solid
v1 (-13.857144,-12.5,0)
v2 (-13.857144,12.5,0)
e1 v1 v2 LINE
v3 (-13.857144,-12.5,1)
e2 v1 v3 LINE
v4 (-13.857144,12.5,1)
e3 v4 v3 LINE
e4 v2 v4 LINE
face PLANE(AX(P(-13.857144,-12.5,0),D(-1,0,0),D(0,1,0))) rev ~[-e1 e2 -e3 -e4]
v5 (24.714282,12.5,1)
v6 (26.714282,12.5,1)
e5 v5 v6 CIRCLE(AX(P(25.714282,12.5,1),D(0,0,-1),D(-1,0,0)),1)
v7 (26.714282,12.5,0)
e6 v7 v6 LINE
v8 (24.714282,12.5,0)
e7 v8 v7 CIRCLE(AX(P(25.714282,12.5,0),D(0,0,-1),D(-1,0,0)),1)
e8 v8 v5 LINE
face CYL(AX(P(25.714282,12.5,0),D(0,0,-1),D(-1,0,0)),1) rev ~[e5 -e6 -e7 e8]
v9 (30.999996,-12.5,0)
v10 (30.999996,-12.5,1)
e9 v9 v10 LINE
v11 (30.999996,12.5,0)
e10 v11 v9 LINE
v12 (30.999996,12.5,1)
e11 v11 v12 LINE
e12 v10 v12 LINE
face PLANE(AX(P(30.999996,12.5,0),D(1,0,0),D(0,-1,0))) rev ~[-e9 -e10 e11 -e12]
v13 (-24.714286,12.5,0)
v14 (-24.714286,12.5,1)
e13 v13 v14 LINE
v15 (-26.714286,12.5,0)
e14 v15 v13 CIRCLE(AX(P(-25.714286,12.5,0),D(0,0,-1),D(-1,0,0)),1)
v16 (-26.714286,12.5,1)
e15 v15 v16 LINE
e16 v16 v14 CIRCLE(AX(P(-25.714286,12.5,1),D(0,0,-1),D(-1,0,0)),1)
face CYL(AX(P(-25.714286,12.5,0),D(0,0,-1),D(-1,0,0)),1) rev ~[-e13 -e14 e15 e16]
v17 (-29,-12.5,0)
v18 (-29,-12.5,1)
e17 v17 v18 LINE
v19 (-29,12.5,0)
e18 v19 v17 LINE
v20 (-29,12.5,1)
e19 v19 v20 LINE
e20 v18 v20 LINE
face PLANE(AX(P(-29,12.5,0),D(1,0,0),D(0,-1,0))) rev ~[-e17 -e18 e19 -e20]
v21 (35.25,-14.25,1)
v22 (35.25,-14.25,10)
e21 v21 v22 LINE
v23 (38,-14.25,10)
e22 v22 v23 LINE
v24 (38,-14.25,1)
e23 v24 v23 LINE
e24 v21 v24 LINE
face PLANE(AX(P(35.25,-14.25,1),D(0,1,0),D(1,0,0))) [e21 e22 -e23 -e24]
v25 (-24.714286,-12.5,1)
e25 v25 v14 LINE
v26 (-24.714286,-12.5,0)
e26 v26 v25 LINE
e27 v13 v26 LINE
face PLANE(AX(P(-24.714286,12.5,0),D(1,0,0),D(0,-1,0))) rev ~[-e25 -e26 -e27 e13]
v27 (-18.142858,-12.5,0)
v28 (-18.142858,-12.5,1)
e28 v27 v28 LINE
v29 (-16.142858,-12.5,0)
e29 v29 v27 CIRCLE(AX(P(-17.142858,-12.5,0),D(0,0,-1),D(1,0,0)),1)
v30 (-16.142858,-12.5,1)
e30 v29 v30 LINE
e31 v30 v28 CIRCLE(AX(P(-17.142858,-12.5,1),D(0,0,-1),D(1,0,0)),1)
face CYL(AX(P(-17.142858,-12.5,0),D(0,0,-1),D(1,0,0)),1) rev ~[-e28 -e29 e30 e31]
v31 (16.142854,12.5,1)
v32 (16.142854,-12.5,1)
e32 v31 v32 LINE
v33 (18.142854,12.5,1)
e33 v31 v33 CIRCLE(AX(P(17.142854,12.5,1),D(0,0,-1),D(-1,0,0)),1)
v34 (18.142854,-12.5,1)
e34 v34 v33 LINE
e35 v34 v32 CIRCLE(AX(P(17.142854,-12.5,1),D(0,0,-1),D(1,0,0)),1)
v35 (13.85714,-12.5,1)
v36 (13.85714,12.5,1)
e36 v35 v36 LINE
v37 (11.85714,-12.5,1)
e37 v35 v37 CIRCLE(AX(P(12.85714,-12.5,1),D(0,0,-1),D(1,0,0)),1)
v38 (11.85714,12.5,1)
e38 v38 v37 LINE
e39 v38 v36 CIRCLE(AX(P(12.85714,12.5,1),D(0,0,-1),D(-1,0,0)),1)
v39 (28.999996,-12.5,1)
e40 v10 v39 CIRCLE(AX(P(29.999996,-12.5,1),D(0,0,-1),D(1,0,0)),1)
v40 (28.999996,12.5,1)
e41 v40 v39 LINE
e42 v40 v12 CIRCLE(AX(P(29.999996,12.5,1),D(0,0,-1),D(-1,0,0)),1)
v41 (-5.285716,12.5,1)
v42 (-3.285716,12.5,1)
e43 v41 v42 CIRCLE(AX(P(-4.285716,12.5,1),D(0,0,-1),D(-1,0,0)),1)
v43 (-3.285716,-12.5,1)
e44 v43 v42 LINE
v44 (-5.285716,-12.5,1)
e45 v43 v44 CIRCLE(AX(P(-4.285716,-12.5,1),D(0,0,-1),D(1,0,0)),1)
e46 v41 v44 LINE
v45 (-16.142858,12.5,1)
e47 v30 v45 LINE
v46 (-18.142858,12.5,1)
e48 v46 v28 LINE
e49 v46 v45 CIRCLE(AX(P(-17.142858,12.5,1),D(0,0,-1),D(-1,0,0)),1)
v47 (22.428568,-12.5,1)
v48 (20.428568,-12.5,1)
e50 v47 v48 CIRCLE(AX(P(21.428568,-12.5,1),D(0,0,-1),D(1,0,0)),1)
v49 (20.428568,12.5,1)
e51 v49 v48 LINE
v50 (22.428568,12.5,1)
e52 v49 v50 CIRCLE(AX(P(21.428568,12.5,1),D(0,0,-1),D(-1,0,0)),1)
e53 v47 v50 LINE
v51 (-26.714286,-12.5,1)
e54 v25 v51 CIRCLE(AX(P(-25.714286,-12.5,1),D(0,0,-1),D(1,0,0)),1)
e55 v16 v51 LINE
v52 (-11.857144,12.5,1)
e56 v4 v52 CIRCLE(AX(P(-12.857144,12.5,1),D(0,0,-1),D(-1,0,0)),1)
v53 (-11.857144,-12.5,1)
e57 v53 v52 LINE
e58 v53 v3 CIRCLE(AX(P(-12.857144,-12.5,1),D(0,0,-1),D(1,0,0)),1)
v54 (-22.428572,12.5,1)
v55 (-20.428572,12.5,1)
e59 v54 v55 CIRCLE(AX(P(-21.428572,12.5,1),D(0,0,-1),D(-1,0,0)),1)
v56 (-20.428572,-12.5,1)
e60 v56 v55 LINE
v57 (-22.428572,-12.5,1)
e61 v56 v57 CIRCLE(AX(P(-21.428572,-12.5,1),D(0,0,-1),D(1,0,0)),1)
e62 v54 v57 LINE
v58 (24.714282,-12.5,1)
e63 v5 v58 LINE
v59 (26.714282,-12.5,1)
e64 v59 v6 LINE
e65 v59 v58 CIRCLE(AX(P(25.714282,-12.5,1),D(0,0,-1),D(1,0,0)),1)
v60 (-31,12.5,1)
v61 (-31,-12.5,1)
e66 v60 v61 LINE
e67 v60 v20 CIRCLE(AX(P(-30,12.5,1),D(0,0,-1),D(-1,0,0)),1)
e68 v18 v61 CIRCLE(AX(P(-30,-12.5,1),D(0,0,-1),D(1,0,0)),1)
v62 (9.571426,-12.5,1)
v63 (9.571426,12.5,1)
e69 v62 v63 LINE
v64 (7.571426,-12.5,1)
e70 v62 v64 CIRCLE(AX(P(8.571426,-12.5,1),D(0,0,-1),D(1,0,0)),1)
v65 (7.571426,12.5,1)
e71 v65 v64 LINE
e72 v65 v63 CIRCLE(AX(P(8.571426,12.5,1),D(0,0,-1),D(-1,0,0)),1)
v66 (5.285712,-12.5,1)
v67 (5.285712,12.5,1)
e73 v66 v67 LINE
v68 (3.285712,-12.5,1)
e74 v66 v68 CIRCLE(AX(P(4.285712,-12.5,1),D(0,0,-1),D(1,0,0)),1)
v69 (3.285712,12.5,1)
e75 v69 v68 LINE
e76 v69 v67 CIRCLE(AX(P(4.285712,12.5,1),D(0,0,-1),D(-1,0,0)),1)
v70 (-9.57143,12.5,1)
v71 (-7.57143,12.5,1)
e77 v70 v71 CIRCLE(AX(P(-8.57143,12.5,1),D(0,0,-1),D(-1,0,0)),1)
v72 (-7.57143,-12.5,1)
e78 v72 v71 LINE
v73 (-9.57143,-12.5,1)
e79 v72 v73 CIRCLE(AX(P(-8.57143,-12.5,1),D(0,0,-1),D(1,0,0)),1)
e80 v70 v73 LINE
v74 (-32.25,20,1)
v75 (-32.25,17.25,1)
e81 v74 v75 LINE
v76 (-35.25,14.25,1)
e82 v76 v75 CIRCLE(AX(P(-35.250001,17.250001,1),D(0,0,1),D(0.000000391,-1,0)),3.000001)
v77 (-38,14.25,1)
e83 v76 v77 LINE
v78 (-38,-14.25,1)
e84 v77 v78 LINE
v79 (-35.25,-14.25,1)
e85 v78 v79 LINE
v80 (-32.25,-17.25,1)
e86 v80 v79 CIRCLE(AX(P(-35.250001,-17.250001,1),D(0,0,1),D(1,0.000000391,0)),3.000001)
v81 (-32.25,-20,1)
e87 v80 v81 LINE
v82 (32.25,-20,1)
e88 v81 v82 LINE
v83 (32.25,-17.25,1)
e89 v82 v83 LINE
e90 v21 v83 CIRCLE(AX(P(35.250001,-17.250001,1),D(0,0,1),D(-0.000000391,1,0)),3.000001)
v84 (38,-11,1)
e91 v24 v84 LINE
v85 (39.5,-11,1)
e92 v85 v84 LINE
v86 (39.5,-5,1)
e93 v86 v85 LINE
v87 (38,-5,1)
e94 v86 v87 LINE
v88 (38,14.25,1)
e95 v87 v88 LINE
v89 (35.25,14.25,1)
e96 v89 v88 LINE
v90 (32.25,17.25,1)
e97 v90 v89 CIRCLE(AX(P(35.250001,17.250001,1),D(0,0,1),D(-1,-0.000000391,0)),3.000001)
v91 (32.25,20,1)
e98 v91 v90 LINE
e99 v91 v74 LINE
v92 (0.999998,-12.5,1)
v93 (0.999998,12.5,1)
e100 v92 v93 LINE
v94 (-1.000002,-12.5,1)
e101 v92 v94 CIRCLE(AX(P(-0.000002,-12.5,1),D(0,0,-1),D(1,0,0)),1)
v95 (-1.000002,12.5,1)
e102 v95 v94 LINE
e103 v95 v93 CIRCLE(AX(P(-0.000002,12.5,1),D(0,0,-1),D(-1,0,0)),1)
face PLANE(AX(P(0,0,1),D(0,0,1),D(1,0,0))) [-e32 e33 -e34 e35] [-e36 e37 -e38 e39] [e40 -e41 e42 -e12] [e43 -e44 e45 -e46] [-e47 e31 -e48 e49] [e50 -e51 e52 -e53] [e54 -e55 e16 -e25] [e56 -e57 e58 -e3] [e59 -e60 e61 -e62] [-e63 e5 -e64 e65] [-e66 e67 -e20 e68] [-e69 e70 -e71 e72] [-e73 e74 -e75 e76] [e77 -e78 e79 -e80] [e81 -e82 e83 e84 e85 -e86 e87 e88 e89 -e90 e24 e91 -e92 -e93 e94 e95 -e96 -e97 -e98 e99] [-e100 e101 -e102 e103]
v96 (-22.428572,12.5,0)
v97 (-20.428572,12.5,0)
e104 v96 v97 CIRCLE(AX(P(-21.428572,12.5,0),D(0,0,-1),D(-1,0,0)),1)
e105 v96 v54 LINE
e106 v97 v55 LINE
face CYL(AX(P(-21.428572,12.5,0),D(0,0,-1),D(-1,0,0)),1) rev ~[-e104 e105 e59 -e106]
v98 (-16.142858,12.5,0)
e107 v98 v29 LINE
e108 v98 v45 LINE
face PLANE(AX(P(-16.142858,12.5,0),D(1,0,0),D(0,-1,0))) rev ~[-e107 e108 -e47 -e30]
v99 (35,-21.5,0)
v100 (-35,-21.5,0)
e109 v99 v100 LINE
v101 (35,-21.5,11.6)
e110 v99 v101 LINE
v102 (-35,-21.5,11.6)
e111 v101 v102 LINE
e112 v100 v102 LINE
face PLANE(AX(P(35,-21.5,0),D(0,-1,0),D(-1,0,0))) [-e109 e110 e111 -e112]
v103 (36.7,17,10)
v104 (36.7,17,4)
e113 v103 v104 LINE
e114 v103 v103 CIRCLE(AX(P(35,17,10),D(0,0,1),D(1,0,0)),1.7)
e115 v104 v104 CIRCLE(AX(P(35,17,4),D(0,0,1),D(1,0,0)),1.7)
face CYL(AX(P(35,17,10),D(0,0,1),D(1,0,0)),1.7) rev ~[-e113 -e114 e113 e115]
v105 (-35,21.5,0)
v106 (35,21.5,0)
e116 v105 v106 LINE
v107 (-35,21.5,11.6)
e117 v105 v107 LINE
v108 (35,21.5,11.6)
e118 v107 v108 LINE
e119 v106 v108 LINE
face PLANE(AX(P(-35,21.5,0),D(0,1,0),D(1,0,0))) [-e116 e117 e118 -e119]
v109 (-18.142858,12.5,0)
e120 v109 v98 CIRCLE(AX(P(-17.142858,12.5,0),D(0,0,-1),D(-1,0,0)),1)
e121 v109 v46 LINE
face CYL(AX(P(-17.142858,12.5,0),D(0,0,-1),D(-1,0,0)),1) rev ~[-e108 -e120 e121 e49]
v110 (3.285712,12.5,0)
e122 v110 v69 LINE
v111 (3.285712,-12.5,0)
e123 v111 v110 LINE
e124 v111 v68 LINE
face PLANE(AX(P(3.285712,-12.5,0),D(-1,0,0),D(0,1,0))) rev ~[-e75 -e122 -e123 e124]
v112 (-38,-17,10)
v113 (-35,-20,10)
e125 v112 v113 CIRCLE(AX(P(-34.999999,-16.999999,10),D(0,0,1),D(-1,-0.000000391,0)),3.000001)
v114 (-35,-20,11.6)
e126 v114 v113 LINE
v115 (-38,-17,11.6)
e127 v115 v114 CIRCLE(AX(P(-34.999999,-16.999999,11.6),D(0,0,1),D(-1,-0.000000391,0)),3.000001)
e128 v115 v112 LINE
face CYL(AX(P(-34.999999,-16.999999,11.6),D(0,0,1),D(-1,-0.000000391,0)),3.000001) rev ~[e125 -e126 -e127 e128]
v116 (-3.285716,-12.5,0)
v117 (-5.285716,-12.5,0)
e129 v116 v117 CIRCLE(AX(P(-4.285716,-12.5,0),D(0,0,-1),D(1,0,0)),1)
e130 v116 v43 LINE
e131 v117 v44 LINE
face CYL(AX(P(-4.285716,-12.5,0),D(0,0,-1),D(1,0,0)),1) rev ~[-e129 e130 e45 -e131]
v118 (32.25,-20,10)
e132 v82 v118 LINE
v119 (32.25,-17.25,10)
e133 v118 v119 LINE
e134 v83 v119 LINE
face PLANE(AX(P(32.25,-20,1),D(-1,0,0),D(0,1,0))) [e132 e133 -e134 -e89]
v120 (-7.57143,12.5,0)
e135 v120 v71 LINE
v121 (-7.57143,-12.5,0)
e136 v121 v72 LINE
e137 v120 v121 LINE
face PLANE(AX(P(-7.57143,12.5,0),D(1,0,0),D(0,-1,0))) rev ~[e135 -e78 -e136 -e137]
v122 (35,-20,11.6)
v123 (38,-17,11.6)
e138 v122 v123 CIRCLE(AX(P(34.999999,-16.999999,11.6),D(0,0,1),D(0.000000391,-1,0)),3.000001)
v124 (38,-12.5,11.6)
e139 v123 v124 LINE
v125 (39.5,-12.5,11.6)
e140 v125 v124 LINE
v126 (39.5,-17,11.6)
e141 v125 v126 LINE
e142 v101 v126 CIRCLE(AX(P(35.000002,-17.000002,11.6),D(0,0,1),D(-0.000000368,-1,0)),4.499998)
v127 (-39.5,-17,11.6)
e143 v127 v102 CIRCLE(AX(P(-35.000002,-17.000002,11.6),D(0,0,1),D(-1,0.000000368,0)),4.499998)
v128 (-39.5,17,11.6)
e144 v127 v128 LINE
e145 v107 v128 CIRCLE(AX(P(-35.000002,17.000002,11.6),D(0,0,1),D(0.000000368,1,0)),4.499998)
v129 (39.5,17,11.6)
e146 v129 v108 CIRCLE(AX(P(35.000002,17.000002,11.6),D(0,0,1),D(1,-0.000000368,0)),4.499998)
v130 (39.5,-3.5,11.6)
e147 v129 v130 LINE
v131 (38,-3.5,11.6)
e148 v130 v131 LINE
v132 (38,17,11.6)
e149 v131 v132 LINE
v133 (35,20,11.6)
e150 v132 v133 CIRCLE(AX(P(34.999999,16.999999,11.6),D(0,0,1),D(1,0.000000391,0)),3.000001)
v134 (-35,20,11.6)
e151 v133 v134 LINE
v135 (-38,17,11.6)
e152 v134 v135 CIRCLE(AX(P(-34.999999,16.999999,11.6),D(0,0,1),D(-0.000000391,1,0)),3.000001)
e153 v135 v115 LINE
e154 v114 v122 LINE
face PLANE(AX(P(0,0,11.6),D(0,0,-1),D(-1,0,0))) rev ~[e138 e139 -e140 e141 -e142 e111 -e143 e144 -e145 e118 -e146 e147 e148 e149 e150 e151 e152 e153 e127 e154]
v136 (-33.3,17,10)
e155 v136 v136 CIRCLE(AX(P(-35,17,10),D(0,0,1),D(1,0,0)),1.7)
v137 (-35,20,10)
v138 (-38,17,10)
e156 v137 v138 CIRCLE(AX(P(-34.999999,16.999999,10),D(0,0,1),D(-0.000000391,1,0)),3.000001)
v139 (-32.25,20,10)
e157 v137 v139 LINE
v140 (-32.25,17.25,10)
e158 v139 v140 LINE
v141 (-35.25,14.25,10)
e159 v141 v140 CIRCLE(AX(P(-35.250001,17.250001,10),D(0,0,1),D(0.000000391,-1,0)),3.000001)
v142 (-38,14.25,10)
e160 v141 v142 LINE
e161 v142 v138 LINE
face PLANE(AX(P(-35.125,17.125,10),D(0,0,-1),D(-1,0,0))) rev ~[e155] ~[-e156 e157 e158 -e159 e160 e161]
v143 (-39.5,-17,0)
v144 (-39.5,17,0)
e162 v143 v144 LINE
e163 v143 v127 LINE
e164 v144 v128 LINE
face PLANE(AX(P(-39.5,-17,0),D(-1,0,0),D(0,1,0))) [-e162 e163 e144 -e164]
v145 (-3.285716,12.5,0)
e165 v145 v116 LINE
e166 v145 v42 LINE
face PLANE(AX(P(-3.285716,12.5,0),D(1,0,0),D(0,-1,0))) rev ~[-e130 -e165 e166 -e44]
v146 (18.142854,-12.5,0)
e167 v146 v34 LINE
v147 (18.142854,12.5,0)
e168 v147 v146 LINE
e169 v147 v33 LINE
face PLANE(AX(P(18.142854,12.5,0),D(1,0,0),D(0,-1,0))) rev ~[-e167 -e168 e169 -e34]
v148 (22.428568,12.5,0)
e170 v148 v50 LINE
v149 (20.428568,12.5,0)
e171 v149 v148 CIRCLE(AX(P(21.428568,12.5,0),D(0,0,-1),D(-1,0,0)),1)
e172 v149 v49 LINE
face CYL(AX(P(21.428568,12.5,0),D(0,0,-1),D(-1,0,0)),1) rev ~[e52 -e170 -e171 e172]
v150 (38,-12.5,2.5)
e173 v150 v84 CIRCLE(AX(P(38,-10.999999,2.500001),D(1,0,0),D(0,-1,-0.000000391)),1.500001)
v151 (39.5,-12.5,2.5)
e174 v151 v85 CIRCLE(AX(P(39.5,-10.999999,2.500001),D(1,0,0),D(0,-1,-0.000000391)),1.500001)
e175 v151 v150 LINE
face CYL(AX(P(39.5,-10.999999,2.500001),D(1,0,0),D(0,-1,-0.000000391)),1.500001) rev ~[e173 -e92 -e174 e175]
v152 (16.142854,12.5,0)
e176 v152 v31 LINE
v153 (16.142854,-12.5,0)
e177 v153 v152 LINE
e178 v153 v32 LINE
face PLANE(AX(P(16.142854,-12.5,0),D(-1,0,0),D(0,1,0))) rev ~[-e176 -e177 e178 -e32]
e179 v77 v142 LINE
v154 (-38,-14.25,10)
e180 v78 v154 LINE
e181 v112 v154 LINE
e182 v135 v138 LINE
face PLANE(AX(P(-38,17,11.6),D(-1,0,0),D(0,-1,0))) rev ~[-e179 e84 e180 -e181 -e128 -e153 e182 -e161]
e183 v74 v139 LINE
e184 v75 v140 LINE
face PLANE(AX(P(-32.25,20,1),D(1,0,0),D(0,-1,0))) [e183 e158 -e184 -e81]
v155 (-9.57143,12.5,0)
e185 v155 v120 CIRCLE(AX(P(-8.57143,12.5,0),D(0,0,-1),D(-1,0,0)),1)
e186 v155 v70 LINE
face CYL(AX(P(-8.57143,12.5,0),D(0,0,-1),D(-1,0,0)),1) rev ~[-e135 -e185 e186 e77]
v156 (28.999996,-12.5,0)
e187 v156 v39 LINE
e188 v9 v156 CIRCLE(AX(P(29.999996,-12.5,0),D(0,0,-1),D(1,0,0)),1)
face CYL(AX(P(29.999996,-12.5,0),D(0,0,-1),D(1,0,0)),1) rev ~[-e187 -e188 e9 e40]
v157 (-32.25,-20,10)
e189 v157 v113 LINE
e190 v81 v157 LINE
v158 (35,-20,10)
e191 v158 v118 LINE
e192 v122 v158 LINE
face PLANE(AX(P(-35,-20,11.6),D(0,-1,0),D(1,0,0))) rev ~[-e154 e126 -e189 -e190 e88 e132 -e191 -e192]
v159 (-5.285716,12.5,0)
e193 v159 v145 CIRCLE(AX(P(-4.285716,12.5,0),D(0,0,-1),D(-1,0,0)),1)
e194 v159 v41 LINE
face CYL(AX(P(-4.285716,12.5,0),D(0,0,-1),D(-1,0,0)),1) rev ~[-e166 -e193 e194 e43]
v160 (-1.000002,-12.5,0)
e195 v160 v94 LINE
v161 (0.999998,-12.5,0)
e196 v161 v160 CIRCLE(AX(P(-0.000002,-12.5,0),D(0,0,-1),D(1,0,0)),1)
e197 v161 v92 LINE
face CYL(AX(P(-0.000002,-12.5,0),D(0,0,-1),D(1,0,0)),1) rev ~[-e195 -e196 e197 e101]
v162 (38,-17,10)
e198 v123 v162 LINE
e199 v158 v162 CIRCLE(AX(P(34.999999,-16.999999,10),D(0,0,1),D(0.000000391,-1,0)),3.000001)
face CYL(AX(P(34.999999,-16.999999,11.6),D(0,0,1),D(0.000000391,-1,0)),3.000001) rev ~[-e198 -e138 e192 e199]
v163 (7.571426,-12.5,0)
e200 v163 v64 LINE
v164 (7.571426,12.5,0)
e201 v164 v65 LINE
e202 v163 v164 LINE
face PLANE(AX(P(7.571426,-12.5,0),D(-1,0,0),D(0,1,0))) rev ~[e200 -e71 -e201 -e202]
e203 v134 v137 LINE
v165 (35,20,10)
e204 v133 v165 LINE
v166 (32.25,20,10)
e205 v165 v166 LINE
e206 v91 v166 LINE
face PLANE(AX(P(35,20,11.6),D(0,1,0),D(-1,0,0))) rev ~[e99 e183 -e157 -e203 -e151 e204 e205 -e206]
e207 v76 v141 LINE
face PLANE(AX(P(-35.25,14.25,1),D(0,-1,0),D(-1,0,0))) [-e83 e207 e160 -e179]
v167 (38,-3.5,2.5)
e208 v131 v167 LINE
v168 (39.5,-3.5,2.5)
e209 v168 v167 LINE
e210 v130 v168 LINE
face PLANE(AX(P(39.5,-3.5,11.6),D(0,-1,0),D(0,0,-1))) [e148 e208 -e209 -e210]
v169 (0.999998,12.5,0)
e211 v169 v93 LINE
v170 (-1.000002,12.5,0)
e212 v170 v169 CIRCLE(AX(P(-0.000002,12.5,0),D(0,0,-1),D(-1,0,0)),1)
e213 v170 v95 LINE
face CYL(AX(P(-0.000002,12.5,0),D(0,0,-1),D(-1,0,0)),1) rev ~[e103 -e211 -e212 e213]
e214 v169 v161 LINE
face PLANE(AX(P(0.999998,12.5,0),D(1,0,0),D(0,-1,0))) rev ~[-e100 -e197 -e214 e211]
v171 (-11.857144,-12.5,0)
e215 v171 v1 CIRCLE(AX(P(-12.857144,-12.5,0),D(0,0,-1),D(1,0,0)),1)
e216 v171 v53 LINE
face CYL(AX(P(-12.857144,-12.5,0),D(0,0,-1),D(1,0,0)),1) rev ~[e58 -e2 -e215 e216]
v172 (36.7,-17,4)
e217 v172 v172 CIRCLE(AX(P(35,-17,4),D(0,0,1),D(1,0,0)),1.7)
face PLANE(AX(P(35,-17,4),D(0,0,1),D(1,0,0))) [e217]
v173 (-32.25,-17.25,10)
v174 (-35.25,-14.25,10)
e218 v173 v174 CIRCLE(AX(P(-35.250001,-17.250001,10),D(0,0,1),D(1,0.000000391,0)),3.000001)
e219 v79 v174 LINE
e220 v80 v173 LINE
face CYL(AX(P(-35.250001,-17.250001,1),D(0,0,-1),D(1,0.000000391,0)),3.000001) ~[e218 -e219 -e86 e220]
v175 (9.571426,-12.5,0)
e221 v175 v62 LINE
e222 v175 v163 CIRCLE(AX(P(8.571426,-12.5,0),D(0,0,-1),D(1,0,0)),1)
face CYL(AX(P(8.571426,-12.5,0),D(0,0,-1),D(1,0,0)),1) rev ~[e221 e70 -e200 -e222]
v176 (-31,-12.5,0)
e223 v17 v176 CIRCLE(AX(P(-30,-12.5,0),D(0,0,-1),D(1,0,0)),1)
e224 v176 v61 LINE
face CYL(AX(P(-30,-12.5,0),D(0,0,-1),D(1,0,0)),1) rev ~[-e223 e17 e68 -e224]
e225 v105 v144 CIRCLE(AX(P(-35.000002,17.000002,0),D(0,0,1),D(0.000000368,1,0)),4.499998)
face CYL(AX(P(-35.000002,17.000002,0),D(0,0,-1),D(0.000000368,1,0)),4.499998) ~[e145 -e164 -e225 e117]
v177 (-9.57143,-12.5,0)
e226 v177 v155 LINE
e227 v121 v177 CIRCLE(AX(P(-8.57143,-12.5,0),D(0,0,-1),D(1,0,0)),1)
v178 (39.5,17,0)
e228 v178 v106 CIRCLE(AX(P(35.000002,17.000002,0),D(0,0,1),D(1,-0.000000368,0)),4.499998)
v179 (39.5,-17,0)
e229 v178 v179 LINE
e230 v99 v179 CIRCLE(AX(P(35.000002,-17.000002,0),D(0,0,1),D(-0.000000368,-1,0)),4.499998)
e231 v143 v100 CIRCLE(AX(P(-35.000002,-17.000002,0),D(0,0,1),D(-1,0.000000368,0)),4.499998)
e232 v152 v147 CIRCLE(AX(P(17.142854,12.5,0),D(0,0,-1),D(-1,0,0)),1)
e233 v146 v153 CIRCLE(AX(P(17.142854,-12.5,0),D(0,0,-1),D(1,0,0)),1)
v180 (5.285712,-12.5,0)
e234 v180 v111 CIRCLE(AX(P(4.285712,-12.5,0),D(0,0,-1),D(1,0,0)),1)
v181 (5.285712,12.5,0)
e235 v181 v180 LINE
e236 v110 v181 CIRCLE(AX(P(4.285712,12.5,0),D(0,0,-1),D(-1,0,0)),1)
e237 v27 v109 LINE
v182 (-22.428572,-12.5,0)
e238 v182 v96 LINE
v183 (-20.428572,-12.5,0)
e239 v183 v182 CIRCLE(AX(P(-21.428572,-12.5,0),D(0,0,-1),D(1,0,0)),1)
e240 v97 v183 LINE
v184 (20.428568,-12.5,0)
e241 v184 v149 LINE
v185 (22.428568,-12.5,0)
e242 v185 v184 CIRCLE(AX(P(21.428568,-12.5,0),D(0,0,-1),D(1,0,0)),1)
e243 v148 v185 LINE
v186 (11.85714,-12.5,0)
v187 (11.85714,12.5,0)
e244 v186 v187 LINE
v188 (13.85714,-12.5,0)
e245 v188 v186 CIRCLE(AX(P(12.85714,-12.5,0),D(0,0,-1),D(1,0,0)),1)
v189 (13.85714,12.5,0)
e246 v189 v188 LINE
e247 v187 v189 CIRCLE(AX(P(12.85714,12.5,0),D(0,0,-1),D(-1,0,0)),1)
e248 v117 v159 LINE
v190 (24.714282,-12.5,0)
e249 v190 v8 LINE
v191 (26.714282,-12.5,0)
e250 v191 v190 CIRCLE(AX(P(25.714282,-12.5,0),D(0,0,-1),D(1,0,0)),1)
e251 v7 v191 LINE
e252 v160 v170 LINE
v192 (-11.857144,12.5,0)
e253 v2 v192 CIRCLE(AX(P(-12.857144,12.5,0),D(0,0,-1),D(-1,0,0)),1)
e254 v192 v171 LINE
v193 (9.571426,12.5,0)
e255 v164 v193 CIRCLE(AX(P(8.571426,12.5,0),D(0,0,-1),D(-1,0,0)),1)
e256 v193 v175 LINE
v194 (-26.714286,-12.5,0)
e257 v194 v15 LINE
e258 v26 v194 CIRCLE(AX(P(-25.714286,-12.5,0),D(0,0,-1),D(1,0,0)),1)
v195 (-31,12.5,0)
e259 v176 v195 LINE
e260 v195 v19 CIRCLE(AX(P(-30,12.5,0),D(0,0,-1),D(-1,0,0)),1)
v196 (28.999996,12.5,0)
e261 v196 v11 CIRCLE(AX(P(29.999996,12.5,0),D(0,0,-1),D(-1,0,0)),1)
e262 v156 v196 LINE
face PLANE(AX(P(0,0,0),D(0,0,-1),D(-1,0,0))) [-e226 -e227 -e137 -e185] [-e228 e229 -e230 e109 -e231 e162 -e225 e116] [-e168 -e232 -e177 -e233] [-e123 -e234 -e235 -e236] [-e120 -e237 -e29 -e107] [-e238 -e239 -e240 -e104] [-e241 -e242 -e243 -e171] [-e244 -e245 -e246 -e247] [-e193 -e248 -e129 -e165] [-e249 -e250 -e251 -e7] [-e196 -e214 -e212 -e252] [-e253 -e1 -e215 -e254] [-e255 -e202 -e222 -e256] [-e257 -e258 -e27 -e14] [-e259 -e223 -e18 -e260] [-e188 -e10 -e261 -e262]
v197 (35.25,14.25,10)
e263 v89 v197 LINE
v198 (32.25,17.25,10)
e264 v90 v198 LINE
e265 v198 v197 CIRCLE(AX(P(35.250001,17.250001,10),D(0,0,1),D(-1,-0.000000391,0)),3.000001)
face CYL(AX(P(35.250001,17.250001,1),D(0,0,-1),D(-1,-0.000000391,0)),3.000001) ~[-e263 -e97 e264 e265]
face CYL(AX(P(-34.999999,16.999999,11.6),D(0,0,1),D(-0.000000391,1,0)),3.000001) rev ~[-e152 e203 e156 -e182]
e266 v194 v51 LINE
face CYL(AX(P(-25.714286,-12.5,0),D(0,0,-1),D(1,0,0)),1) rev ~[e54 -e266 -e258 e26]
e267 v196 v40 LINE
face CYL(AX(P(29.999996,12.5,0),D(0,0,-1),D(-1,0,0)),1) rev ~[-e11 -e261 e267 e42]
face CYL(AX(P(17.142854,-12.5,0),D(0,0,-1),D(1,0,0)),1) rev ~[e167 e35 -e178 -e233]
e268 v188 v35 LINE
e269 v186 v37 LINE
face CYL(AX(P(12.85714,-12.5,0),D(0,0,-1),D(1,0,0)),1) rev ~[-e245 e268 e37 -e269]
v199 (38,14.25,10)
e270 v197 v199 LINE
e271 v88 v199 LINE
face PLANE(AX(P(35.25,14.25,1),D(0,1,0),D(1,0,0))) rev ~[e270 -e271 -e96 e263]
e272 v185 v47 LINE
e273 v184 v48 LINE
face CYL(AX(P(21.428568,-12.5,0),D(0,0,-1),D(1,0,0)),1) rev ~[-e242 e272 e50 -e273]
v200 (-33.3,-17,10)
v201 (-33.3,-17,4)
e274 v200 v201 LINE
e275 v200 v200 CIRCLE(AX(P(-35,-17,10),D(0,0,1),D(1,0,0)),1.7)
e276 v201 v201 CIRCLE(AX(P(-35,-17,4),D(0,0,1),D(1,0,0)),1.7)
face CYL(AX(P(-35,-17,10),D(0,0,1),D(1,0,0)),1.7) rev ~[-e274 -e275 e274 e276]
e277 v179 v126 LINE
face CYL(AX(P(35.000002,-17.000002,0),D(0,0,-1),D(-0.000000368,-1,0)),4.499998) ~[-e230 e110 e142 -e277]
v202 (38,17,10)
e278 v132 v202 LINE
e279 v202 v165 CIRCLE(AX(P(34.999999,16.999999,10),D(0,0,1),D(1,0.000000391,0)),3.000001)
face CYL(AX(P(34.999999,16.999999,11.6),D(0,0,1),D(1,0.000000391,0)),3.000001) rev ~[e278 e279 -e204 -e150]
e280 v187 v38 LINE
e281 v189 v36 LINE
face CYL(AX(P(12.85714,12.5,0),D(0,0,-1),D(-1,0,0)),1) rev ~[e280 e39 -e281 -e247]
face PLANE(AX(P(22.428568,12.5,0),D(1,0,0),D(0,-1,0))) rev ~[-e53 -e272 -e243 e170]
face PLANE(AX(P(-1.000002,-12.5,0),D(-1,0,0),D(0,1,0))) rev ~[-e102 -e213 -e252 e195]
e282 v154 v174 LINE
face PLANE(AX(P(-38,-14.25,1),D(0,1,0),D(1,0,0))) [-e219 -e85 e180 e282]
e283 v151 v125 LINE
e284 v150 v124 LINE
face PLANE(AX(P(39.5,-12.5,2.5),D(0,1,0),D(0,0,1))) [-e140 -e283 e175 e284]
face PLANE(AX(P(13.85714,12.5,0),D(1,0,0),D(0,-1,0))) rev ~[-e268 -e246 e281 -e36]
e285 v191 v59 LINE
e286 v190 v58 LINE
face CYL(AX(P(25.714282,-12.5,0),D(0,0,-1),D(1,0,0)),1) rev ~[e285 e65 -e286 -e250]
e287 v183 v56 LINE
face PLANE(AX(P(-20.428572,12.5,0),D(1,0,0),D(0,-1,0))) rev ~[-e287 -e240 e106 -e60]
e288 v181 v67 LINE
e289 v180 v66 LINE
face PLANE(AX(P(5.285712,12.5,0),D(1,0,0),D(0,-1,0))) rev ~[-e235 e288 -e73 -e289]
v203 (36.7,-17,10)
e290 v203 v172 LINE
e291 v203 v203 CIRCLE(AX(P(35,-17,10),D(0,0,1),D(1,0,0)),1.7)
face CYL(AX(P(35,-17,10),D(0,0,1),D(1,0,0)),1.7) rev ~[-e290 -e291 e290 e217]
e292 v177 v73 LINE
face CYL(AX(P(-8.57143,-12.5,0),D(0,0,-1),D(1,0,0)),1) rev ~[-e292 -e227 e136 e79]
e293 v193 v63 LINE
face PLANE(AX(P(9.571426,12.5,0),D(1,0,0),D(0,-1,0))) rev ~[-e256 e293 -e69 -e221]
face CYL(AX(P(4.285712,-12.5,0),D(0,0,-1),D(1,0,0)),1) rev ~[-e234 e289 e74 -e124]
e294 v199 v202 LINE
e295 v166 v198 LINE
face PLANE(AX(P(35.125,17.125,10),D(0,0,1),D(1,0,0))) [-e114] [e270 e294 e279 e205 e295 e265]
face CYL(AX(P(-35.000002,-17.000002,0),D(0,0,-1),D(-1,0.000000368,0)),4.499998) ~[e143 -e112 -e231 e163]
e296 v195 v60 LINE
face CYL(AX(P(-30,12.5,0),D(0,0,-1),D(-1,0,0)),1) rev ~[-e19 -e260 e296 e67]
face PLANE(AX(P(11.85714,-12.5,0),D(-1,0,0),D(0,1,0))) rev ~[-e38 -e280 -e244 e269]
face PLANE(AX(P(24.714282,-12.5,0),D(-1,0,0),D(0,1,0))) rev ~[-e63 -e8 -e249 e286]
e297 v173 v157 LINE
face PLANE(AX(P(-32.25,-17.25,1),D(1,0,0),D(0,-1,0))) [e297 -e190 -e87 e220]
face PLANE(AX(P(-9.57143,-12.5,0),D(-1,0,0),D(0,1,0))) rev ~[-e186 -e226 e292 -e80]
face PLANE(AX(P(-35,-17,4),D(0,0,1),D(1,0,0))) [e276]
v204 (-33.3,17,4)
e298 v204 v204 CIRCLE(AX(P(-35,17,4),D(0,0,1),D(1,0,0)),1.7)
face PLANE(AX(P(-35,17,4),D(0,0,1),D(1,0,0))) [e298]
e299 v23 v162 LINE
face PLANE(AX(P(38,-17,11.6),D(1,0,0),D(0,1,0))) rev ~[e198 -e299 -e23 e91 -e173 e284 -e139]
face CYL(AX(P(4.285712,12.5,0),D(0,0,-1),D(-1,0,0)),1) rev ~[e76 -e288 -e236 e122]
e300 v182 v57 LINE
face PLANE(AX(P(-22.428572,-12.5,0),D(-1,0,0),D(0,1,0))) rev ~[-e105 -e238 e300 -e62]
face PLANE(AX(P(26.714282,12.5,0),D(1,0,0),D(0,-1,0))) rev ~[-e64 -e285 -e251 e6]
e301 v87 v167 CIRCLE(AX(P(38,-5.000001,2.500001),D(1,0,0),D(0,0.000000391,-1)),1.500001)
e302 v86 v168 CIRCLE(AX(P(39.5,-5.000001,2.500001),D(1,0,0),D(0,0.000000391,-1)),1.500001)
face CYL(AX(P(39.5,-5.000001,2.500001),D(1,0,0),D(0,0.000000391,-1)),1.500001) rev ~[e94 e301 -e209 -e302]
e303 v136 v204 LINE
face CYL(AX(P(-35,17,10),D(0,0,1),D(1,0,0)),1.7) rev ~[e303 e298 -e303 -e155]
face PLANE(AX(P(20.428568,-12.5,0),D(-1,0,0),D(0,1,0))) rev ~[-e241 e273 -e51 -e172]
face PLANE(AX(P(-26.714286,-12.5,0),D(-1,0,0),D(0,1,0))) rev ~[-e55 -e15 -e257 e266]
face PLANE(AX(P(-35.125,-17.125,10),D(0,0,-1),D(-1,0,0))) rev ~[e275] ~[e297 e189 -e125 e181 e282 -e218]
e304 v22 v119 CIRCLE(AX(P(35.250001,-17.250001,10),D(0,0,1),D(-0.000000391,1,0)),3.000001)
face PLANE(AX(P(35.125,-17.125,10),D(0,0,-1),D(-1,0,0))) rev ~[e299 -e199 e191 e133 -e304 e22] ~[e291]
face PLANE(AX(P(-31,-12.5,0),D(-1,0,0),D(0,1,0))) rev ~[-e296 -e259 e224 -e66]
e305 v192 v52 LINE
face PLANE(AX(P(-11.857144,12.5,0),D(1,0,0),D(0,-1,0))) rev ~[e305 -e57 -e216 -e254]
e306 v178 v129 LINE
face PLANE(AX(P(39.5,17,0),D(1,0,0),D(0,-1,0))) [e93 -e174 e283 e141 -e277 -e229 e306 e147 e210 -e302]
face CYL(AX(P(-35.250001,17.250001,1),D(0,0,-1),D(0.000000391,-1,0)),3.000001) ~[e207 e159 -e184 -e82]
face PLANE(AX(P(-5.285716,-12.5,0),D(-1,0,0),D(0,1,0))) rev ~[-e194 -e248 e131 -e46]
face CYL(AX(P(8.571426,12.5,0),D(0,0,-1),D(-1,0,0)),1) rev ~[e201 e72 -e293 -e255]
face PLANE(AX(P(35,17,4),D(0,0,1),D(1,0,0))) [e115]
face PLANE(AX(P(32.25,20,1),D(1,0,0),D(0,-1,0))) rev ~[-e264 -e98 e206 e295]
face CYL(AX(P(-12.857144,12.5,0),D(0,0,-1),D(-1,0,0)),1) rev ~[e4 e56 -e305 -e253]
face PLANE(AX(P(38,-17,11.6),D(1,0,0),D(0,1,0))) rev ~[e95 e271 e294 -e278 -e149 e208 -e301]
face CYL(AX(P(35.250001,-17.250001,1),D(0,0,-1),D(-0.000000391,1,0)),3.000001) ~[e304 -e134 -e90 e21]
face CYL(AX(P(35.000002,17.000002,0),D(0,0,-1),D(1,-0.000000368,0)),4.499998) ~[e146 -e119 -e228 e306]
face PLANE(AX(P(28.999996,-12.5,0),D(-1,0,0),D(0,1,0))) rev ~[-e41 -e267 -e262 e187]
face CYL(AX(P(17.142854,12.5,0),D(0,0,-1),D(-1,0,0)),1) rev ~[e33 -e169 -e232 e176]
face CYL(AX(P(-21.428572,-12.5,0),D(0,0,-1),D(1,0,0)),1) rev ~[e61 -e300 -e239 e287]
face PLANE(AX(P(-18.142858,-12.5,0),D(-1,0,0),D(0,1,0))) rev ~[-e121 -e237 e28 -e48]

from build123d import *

# Parameters (mm, degrees)
PAD_DEPTH           = 11.6
POCKET_DEPTH        = 10.6
PAD001_DEPTH        = 9
SKETCH003_R         = 1.7
POCKET001_DEPTH     = 6
POCKET002_DEPTH     = 5
POCKET003_DEPTH     = 5
LINEARPATTERN_COUNT = 15
LINEARPATTERN_PITCH = 4.285714


with BuildPart() as part:
    # Sketch → Pad (new body)
    with BuildSketch(Plane.XY):
        with BuildLine():
            Line((-35, 21.5), (35, 21.5))
            ThreePointArc((39.5, 17), (38.181981, 20.181981), (35, 21.5))
            Line((39.5, 17), (39.5, -17))
            ThreePointArc((35, -21.5), (38.181981, -20.181981), (39.5, -17))
            Line((35, -21.5), (-35, -21.5))
            ThreePointArc((-39.5, -17), (-38.181981, -20.181981), (-35, -21.5))
            Line((-39.5, -17), (-39.5, 17))
            ThreePointArc((-35, 21.5), (-38.181981, 20.181981), (-39.5, 17))
        make_face()
    extrude(amount=PAD_DEPTH)

    # Sketch001 (on Face10 of Pad) → Pocket (cut)
    with BuildSketch(Plane.XY.offset(11.6)):
        with BuildLine():
            Line((35, 20), (-35, 20))
            ThreePointArc((-35, 20), (-37.12132, 19.12132), (-38, 17))
            Line((-38, 17), (-38, -17))
            ThreePointArc((-38, -17), (-37.12132, -19.12132), (-35, -20))
            Line((-35, -20), (35, -20))
            ThreePointArc((35, -20), (37.12132, -19.12132), (38, -17))
            Line((38, -17), (38, 17))
            ThreePointArc((38, 17), (37.12132, 19.12132), (35, 20))
        make_face()
    extrude(amount=-POCKET_DEPTH, mode=Mode.SUBTRACT)

    # Sketch002 (on Face19 of Pocket) → Pad001 (join)
    with BuildSketch(Plane.XY.offset(1)):
        with BuildLine():
            Line((-35, 20), (-32.25, 20))
            Line((-32.25, 20), (-32.25, 17.25))
            ThreePointArc((-35.25, 14.25), (-33.12868, 15.12868), (-32.25, 17.25))
            Line((-35.25, 14.25), (-38, 14.25))
            Line((-38, 14.25), (-38, 17))
            ThreePointArc((-35, 20), (-37.12132, 19.12132), (-38, 17))
        make_face()
        with BuildLine():
            Line((35, 20), (32.25, 20))
            Line((32.25, 20), (32.25, 17.25))
            ThreePointArc((32.25, 17.25), (33.12868, 15.12868), (35.25, 14.25))
            Line((35.25, 14.25), (38, 14.25))
            Line((38, 14.25), (38, 17))
            ThreePointArc((38, 17), (37.12132, 19.12132), (35, 20))
        make_face()
        with BuildLine():
            Line((-38, -14.25), (-35.25, -14.25))
            ThreePointArc((-32.25, -17.25), (-33.12868, -15.12868), (-35.25, -14.25))
            Line((-32.25, -17.25), (-32.25, -20))
            Line((-32.25, -20), (-35, -20))
            ThreePointArc((-38, -17), (-37.12132, -19.12132), (-35, -20))
            Line((-38, -17), (-38, -14.25))
        make_face()
        with BuildLine():
            Line((35.25, -14.25), (38, -14.25))
            Line((38, -14.25), (38, -17))
            ThreePointArc((35, -20), (37.12132, -19.12132), (38, -17))
            Line((35, -20), (32.25, -20))
            Line((32.25, -20), (32.25, -17.25))
            ThreePointArc((35.25, -14.25), (33.12868, -15.12868), (32.25, -17.25))
        make_face()
    extrude(amount=PAD001_DEPTH)

    # Sketch003 (on Face19 of Pad001) → Pocket001 (cut)
    with BuildSketch(Plane.XY.offset(10)):
        with Locations((-35, 17)):
            Circle(SKETCH003_R)
        with Locations((-35, -17)):
            Circle(SKETCH003_R)
        with Locations((35, -17)):
            Circle(SKETCH003_R)
        with Locations((35, 17)):
            Circle(SKETCH003_R)
    extrude(amount=-POCKET001_DEPTH, mode=Mode.SUBTRACT)

    # Sketch009 (on Face9 of Pocket001) → Pocket002 (cut)
    with BuildSketch(Plane.YZ.offset(39.5)):
        with BuildLine():
            Line((-12.5, 11.6), (-3.5, 11.6))
            Line((-3.5, 11.6), (-3.5, 2.5))
            ThreePointArc((-5, 1), (-3.93934, 1.43934), (-3.5, 2.5))
            Line((-5, 1), (-11, 1))
            ThreePointArc((-12.5, 2.5), (-12.06066, 1.43934), (-11, 1))
            Line((-12.5, 2.5), (-12.5, 11.6))
        make_face()
    extrude(amount=-POCKET002_DEPTH, mode=Mode.SUBTRACT)

    # Sketch008 → Pocket003 (cut)
    with BuildSketch(Plane(origin=(0, 0, 0), x_dir=(1, 0, 0), z_dir=(0, 0, -1))):
        with BuildLine():
            ThreePointArc((-29, 12.5), (-30, 13.5), (-31, 12.5))
            Line((-31, 12.5), (-31, -12.5))
            ThreePointArc((-31, -12.5), (-30, -13.5), (-29, -12.5))
            Line((-29, -12.5), (-29, 12.5))
        make_face()
    pocket003 = extrude(amount=-POCKET003_DEPTH, mode=Mode.SUBTRACT)

    # LinearPattern: Pocket003 ×15
    with Locations(*[(i * LINEARPATTERN_PITCH, 0, 0) for i in range(1, LINEARPATTERN_COUNT)]):
        add(pocket003, mode=Mode.SUBTRACT)


solid = part.part
